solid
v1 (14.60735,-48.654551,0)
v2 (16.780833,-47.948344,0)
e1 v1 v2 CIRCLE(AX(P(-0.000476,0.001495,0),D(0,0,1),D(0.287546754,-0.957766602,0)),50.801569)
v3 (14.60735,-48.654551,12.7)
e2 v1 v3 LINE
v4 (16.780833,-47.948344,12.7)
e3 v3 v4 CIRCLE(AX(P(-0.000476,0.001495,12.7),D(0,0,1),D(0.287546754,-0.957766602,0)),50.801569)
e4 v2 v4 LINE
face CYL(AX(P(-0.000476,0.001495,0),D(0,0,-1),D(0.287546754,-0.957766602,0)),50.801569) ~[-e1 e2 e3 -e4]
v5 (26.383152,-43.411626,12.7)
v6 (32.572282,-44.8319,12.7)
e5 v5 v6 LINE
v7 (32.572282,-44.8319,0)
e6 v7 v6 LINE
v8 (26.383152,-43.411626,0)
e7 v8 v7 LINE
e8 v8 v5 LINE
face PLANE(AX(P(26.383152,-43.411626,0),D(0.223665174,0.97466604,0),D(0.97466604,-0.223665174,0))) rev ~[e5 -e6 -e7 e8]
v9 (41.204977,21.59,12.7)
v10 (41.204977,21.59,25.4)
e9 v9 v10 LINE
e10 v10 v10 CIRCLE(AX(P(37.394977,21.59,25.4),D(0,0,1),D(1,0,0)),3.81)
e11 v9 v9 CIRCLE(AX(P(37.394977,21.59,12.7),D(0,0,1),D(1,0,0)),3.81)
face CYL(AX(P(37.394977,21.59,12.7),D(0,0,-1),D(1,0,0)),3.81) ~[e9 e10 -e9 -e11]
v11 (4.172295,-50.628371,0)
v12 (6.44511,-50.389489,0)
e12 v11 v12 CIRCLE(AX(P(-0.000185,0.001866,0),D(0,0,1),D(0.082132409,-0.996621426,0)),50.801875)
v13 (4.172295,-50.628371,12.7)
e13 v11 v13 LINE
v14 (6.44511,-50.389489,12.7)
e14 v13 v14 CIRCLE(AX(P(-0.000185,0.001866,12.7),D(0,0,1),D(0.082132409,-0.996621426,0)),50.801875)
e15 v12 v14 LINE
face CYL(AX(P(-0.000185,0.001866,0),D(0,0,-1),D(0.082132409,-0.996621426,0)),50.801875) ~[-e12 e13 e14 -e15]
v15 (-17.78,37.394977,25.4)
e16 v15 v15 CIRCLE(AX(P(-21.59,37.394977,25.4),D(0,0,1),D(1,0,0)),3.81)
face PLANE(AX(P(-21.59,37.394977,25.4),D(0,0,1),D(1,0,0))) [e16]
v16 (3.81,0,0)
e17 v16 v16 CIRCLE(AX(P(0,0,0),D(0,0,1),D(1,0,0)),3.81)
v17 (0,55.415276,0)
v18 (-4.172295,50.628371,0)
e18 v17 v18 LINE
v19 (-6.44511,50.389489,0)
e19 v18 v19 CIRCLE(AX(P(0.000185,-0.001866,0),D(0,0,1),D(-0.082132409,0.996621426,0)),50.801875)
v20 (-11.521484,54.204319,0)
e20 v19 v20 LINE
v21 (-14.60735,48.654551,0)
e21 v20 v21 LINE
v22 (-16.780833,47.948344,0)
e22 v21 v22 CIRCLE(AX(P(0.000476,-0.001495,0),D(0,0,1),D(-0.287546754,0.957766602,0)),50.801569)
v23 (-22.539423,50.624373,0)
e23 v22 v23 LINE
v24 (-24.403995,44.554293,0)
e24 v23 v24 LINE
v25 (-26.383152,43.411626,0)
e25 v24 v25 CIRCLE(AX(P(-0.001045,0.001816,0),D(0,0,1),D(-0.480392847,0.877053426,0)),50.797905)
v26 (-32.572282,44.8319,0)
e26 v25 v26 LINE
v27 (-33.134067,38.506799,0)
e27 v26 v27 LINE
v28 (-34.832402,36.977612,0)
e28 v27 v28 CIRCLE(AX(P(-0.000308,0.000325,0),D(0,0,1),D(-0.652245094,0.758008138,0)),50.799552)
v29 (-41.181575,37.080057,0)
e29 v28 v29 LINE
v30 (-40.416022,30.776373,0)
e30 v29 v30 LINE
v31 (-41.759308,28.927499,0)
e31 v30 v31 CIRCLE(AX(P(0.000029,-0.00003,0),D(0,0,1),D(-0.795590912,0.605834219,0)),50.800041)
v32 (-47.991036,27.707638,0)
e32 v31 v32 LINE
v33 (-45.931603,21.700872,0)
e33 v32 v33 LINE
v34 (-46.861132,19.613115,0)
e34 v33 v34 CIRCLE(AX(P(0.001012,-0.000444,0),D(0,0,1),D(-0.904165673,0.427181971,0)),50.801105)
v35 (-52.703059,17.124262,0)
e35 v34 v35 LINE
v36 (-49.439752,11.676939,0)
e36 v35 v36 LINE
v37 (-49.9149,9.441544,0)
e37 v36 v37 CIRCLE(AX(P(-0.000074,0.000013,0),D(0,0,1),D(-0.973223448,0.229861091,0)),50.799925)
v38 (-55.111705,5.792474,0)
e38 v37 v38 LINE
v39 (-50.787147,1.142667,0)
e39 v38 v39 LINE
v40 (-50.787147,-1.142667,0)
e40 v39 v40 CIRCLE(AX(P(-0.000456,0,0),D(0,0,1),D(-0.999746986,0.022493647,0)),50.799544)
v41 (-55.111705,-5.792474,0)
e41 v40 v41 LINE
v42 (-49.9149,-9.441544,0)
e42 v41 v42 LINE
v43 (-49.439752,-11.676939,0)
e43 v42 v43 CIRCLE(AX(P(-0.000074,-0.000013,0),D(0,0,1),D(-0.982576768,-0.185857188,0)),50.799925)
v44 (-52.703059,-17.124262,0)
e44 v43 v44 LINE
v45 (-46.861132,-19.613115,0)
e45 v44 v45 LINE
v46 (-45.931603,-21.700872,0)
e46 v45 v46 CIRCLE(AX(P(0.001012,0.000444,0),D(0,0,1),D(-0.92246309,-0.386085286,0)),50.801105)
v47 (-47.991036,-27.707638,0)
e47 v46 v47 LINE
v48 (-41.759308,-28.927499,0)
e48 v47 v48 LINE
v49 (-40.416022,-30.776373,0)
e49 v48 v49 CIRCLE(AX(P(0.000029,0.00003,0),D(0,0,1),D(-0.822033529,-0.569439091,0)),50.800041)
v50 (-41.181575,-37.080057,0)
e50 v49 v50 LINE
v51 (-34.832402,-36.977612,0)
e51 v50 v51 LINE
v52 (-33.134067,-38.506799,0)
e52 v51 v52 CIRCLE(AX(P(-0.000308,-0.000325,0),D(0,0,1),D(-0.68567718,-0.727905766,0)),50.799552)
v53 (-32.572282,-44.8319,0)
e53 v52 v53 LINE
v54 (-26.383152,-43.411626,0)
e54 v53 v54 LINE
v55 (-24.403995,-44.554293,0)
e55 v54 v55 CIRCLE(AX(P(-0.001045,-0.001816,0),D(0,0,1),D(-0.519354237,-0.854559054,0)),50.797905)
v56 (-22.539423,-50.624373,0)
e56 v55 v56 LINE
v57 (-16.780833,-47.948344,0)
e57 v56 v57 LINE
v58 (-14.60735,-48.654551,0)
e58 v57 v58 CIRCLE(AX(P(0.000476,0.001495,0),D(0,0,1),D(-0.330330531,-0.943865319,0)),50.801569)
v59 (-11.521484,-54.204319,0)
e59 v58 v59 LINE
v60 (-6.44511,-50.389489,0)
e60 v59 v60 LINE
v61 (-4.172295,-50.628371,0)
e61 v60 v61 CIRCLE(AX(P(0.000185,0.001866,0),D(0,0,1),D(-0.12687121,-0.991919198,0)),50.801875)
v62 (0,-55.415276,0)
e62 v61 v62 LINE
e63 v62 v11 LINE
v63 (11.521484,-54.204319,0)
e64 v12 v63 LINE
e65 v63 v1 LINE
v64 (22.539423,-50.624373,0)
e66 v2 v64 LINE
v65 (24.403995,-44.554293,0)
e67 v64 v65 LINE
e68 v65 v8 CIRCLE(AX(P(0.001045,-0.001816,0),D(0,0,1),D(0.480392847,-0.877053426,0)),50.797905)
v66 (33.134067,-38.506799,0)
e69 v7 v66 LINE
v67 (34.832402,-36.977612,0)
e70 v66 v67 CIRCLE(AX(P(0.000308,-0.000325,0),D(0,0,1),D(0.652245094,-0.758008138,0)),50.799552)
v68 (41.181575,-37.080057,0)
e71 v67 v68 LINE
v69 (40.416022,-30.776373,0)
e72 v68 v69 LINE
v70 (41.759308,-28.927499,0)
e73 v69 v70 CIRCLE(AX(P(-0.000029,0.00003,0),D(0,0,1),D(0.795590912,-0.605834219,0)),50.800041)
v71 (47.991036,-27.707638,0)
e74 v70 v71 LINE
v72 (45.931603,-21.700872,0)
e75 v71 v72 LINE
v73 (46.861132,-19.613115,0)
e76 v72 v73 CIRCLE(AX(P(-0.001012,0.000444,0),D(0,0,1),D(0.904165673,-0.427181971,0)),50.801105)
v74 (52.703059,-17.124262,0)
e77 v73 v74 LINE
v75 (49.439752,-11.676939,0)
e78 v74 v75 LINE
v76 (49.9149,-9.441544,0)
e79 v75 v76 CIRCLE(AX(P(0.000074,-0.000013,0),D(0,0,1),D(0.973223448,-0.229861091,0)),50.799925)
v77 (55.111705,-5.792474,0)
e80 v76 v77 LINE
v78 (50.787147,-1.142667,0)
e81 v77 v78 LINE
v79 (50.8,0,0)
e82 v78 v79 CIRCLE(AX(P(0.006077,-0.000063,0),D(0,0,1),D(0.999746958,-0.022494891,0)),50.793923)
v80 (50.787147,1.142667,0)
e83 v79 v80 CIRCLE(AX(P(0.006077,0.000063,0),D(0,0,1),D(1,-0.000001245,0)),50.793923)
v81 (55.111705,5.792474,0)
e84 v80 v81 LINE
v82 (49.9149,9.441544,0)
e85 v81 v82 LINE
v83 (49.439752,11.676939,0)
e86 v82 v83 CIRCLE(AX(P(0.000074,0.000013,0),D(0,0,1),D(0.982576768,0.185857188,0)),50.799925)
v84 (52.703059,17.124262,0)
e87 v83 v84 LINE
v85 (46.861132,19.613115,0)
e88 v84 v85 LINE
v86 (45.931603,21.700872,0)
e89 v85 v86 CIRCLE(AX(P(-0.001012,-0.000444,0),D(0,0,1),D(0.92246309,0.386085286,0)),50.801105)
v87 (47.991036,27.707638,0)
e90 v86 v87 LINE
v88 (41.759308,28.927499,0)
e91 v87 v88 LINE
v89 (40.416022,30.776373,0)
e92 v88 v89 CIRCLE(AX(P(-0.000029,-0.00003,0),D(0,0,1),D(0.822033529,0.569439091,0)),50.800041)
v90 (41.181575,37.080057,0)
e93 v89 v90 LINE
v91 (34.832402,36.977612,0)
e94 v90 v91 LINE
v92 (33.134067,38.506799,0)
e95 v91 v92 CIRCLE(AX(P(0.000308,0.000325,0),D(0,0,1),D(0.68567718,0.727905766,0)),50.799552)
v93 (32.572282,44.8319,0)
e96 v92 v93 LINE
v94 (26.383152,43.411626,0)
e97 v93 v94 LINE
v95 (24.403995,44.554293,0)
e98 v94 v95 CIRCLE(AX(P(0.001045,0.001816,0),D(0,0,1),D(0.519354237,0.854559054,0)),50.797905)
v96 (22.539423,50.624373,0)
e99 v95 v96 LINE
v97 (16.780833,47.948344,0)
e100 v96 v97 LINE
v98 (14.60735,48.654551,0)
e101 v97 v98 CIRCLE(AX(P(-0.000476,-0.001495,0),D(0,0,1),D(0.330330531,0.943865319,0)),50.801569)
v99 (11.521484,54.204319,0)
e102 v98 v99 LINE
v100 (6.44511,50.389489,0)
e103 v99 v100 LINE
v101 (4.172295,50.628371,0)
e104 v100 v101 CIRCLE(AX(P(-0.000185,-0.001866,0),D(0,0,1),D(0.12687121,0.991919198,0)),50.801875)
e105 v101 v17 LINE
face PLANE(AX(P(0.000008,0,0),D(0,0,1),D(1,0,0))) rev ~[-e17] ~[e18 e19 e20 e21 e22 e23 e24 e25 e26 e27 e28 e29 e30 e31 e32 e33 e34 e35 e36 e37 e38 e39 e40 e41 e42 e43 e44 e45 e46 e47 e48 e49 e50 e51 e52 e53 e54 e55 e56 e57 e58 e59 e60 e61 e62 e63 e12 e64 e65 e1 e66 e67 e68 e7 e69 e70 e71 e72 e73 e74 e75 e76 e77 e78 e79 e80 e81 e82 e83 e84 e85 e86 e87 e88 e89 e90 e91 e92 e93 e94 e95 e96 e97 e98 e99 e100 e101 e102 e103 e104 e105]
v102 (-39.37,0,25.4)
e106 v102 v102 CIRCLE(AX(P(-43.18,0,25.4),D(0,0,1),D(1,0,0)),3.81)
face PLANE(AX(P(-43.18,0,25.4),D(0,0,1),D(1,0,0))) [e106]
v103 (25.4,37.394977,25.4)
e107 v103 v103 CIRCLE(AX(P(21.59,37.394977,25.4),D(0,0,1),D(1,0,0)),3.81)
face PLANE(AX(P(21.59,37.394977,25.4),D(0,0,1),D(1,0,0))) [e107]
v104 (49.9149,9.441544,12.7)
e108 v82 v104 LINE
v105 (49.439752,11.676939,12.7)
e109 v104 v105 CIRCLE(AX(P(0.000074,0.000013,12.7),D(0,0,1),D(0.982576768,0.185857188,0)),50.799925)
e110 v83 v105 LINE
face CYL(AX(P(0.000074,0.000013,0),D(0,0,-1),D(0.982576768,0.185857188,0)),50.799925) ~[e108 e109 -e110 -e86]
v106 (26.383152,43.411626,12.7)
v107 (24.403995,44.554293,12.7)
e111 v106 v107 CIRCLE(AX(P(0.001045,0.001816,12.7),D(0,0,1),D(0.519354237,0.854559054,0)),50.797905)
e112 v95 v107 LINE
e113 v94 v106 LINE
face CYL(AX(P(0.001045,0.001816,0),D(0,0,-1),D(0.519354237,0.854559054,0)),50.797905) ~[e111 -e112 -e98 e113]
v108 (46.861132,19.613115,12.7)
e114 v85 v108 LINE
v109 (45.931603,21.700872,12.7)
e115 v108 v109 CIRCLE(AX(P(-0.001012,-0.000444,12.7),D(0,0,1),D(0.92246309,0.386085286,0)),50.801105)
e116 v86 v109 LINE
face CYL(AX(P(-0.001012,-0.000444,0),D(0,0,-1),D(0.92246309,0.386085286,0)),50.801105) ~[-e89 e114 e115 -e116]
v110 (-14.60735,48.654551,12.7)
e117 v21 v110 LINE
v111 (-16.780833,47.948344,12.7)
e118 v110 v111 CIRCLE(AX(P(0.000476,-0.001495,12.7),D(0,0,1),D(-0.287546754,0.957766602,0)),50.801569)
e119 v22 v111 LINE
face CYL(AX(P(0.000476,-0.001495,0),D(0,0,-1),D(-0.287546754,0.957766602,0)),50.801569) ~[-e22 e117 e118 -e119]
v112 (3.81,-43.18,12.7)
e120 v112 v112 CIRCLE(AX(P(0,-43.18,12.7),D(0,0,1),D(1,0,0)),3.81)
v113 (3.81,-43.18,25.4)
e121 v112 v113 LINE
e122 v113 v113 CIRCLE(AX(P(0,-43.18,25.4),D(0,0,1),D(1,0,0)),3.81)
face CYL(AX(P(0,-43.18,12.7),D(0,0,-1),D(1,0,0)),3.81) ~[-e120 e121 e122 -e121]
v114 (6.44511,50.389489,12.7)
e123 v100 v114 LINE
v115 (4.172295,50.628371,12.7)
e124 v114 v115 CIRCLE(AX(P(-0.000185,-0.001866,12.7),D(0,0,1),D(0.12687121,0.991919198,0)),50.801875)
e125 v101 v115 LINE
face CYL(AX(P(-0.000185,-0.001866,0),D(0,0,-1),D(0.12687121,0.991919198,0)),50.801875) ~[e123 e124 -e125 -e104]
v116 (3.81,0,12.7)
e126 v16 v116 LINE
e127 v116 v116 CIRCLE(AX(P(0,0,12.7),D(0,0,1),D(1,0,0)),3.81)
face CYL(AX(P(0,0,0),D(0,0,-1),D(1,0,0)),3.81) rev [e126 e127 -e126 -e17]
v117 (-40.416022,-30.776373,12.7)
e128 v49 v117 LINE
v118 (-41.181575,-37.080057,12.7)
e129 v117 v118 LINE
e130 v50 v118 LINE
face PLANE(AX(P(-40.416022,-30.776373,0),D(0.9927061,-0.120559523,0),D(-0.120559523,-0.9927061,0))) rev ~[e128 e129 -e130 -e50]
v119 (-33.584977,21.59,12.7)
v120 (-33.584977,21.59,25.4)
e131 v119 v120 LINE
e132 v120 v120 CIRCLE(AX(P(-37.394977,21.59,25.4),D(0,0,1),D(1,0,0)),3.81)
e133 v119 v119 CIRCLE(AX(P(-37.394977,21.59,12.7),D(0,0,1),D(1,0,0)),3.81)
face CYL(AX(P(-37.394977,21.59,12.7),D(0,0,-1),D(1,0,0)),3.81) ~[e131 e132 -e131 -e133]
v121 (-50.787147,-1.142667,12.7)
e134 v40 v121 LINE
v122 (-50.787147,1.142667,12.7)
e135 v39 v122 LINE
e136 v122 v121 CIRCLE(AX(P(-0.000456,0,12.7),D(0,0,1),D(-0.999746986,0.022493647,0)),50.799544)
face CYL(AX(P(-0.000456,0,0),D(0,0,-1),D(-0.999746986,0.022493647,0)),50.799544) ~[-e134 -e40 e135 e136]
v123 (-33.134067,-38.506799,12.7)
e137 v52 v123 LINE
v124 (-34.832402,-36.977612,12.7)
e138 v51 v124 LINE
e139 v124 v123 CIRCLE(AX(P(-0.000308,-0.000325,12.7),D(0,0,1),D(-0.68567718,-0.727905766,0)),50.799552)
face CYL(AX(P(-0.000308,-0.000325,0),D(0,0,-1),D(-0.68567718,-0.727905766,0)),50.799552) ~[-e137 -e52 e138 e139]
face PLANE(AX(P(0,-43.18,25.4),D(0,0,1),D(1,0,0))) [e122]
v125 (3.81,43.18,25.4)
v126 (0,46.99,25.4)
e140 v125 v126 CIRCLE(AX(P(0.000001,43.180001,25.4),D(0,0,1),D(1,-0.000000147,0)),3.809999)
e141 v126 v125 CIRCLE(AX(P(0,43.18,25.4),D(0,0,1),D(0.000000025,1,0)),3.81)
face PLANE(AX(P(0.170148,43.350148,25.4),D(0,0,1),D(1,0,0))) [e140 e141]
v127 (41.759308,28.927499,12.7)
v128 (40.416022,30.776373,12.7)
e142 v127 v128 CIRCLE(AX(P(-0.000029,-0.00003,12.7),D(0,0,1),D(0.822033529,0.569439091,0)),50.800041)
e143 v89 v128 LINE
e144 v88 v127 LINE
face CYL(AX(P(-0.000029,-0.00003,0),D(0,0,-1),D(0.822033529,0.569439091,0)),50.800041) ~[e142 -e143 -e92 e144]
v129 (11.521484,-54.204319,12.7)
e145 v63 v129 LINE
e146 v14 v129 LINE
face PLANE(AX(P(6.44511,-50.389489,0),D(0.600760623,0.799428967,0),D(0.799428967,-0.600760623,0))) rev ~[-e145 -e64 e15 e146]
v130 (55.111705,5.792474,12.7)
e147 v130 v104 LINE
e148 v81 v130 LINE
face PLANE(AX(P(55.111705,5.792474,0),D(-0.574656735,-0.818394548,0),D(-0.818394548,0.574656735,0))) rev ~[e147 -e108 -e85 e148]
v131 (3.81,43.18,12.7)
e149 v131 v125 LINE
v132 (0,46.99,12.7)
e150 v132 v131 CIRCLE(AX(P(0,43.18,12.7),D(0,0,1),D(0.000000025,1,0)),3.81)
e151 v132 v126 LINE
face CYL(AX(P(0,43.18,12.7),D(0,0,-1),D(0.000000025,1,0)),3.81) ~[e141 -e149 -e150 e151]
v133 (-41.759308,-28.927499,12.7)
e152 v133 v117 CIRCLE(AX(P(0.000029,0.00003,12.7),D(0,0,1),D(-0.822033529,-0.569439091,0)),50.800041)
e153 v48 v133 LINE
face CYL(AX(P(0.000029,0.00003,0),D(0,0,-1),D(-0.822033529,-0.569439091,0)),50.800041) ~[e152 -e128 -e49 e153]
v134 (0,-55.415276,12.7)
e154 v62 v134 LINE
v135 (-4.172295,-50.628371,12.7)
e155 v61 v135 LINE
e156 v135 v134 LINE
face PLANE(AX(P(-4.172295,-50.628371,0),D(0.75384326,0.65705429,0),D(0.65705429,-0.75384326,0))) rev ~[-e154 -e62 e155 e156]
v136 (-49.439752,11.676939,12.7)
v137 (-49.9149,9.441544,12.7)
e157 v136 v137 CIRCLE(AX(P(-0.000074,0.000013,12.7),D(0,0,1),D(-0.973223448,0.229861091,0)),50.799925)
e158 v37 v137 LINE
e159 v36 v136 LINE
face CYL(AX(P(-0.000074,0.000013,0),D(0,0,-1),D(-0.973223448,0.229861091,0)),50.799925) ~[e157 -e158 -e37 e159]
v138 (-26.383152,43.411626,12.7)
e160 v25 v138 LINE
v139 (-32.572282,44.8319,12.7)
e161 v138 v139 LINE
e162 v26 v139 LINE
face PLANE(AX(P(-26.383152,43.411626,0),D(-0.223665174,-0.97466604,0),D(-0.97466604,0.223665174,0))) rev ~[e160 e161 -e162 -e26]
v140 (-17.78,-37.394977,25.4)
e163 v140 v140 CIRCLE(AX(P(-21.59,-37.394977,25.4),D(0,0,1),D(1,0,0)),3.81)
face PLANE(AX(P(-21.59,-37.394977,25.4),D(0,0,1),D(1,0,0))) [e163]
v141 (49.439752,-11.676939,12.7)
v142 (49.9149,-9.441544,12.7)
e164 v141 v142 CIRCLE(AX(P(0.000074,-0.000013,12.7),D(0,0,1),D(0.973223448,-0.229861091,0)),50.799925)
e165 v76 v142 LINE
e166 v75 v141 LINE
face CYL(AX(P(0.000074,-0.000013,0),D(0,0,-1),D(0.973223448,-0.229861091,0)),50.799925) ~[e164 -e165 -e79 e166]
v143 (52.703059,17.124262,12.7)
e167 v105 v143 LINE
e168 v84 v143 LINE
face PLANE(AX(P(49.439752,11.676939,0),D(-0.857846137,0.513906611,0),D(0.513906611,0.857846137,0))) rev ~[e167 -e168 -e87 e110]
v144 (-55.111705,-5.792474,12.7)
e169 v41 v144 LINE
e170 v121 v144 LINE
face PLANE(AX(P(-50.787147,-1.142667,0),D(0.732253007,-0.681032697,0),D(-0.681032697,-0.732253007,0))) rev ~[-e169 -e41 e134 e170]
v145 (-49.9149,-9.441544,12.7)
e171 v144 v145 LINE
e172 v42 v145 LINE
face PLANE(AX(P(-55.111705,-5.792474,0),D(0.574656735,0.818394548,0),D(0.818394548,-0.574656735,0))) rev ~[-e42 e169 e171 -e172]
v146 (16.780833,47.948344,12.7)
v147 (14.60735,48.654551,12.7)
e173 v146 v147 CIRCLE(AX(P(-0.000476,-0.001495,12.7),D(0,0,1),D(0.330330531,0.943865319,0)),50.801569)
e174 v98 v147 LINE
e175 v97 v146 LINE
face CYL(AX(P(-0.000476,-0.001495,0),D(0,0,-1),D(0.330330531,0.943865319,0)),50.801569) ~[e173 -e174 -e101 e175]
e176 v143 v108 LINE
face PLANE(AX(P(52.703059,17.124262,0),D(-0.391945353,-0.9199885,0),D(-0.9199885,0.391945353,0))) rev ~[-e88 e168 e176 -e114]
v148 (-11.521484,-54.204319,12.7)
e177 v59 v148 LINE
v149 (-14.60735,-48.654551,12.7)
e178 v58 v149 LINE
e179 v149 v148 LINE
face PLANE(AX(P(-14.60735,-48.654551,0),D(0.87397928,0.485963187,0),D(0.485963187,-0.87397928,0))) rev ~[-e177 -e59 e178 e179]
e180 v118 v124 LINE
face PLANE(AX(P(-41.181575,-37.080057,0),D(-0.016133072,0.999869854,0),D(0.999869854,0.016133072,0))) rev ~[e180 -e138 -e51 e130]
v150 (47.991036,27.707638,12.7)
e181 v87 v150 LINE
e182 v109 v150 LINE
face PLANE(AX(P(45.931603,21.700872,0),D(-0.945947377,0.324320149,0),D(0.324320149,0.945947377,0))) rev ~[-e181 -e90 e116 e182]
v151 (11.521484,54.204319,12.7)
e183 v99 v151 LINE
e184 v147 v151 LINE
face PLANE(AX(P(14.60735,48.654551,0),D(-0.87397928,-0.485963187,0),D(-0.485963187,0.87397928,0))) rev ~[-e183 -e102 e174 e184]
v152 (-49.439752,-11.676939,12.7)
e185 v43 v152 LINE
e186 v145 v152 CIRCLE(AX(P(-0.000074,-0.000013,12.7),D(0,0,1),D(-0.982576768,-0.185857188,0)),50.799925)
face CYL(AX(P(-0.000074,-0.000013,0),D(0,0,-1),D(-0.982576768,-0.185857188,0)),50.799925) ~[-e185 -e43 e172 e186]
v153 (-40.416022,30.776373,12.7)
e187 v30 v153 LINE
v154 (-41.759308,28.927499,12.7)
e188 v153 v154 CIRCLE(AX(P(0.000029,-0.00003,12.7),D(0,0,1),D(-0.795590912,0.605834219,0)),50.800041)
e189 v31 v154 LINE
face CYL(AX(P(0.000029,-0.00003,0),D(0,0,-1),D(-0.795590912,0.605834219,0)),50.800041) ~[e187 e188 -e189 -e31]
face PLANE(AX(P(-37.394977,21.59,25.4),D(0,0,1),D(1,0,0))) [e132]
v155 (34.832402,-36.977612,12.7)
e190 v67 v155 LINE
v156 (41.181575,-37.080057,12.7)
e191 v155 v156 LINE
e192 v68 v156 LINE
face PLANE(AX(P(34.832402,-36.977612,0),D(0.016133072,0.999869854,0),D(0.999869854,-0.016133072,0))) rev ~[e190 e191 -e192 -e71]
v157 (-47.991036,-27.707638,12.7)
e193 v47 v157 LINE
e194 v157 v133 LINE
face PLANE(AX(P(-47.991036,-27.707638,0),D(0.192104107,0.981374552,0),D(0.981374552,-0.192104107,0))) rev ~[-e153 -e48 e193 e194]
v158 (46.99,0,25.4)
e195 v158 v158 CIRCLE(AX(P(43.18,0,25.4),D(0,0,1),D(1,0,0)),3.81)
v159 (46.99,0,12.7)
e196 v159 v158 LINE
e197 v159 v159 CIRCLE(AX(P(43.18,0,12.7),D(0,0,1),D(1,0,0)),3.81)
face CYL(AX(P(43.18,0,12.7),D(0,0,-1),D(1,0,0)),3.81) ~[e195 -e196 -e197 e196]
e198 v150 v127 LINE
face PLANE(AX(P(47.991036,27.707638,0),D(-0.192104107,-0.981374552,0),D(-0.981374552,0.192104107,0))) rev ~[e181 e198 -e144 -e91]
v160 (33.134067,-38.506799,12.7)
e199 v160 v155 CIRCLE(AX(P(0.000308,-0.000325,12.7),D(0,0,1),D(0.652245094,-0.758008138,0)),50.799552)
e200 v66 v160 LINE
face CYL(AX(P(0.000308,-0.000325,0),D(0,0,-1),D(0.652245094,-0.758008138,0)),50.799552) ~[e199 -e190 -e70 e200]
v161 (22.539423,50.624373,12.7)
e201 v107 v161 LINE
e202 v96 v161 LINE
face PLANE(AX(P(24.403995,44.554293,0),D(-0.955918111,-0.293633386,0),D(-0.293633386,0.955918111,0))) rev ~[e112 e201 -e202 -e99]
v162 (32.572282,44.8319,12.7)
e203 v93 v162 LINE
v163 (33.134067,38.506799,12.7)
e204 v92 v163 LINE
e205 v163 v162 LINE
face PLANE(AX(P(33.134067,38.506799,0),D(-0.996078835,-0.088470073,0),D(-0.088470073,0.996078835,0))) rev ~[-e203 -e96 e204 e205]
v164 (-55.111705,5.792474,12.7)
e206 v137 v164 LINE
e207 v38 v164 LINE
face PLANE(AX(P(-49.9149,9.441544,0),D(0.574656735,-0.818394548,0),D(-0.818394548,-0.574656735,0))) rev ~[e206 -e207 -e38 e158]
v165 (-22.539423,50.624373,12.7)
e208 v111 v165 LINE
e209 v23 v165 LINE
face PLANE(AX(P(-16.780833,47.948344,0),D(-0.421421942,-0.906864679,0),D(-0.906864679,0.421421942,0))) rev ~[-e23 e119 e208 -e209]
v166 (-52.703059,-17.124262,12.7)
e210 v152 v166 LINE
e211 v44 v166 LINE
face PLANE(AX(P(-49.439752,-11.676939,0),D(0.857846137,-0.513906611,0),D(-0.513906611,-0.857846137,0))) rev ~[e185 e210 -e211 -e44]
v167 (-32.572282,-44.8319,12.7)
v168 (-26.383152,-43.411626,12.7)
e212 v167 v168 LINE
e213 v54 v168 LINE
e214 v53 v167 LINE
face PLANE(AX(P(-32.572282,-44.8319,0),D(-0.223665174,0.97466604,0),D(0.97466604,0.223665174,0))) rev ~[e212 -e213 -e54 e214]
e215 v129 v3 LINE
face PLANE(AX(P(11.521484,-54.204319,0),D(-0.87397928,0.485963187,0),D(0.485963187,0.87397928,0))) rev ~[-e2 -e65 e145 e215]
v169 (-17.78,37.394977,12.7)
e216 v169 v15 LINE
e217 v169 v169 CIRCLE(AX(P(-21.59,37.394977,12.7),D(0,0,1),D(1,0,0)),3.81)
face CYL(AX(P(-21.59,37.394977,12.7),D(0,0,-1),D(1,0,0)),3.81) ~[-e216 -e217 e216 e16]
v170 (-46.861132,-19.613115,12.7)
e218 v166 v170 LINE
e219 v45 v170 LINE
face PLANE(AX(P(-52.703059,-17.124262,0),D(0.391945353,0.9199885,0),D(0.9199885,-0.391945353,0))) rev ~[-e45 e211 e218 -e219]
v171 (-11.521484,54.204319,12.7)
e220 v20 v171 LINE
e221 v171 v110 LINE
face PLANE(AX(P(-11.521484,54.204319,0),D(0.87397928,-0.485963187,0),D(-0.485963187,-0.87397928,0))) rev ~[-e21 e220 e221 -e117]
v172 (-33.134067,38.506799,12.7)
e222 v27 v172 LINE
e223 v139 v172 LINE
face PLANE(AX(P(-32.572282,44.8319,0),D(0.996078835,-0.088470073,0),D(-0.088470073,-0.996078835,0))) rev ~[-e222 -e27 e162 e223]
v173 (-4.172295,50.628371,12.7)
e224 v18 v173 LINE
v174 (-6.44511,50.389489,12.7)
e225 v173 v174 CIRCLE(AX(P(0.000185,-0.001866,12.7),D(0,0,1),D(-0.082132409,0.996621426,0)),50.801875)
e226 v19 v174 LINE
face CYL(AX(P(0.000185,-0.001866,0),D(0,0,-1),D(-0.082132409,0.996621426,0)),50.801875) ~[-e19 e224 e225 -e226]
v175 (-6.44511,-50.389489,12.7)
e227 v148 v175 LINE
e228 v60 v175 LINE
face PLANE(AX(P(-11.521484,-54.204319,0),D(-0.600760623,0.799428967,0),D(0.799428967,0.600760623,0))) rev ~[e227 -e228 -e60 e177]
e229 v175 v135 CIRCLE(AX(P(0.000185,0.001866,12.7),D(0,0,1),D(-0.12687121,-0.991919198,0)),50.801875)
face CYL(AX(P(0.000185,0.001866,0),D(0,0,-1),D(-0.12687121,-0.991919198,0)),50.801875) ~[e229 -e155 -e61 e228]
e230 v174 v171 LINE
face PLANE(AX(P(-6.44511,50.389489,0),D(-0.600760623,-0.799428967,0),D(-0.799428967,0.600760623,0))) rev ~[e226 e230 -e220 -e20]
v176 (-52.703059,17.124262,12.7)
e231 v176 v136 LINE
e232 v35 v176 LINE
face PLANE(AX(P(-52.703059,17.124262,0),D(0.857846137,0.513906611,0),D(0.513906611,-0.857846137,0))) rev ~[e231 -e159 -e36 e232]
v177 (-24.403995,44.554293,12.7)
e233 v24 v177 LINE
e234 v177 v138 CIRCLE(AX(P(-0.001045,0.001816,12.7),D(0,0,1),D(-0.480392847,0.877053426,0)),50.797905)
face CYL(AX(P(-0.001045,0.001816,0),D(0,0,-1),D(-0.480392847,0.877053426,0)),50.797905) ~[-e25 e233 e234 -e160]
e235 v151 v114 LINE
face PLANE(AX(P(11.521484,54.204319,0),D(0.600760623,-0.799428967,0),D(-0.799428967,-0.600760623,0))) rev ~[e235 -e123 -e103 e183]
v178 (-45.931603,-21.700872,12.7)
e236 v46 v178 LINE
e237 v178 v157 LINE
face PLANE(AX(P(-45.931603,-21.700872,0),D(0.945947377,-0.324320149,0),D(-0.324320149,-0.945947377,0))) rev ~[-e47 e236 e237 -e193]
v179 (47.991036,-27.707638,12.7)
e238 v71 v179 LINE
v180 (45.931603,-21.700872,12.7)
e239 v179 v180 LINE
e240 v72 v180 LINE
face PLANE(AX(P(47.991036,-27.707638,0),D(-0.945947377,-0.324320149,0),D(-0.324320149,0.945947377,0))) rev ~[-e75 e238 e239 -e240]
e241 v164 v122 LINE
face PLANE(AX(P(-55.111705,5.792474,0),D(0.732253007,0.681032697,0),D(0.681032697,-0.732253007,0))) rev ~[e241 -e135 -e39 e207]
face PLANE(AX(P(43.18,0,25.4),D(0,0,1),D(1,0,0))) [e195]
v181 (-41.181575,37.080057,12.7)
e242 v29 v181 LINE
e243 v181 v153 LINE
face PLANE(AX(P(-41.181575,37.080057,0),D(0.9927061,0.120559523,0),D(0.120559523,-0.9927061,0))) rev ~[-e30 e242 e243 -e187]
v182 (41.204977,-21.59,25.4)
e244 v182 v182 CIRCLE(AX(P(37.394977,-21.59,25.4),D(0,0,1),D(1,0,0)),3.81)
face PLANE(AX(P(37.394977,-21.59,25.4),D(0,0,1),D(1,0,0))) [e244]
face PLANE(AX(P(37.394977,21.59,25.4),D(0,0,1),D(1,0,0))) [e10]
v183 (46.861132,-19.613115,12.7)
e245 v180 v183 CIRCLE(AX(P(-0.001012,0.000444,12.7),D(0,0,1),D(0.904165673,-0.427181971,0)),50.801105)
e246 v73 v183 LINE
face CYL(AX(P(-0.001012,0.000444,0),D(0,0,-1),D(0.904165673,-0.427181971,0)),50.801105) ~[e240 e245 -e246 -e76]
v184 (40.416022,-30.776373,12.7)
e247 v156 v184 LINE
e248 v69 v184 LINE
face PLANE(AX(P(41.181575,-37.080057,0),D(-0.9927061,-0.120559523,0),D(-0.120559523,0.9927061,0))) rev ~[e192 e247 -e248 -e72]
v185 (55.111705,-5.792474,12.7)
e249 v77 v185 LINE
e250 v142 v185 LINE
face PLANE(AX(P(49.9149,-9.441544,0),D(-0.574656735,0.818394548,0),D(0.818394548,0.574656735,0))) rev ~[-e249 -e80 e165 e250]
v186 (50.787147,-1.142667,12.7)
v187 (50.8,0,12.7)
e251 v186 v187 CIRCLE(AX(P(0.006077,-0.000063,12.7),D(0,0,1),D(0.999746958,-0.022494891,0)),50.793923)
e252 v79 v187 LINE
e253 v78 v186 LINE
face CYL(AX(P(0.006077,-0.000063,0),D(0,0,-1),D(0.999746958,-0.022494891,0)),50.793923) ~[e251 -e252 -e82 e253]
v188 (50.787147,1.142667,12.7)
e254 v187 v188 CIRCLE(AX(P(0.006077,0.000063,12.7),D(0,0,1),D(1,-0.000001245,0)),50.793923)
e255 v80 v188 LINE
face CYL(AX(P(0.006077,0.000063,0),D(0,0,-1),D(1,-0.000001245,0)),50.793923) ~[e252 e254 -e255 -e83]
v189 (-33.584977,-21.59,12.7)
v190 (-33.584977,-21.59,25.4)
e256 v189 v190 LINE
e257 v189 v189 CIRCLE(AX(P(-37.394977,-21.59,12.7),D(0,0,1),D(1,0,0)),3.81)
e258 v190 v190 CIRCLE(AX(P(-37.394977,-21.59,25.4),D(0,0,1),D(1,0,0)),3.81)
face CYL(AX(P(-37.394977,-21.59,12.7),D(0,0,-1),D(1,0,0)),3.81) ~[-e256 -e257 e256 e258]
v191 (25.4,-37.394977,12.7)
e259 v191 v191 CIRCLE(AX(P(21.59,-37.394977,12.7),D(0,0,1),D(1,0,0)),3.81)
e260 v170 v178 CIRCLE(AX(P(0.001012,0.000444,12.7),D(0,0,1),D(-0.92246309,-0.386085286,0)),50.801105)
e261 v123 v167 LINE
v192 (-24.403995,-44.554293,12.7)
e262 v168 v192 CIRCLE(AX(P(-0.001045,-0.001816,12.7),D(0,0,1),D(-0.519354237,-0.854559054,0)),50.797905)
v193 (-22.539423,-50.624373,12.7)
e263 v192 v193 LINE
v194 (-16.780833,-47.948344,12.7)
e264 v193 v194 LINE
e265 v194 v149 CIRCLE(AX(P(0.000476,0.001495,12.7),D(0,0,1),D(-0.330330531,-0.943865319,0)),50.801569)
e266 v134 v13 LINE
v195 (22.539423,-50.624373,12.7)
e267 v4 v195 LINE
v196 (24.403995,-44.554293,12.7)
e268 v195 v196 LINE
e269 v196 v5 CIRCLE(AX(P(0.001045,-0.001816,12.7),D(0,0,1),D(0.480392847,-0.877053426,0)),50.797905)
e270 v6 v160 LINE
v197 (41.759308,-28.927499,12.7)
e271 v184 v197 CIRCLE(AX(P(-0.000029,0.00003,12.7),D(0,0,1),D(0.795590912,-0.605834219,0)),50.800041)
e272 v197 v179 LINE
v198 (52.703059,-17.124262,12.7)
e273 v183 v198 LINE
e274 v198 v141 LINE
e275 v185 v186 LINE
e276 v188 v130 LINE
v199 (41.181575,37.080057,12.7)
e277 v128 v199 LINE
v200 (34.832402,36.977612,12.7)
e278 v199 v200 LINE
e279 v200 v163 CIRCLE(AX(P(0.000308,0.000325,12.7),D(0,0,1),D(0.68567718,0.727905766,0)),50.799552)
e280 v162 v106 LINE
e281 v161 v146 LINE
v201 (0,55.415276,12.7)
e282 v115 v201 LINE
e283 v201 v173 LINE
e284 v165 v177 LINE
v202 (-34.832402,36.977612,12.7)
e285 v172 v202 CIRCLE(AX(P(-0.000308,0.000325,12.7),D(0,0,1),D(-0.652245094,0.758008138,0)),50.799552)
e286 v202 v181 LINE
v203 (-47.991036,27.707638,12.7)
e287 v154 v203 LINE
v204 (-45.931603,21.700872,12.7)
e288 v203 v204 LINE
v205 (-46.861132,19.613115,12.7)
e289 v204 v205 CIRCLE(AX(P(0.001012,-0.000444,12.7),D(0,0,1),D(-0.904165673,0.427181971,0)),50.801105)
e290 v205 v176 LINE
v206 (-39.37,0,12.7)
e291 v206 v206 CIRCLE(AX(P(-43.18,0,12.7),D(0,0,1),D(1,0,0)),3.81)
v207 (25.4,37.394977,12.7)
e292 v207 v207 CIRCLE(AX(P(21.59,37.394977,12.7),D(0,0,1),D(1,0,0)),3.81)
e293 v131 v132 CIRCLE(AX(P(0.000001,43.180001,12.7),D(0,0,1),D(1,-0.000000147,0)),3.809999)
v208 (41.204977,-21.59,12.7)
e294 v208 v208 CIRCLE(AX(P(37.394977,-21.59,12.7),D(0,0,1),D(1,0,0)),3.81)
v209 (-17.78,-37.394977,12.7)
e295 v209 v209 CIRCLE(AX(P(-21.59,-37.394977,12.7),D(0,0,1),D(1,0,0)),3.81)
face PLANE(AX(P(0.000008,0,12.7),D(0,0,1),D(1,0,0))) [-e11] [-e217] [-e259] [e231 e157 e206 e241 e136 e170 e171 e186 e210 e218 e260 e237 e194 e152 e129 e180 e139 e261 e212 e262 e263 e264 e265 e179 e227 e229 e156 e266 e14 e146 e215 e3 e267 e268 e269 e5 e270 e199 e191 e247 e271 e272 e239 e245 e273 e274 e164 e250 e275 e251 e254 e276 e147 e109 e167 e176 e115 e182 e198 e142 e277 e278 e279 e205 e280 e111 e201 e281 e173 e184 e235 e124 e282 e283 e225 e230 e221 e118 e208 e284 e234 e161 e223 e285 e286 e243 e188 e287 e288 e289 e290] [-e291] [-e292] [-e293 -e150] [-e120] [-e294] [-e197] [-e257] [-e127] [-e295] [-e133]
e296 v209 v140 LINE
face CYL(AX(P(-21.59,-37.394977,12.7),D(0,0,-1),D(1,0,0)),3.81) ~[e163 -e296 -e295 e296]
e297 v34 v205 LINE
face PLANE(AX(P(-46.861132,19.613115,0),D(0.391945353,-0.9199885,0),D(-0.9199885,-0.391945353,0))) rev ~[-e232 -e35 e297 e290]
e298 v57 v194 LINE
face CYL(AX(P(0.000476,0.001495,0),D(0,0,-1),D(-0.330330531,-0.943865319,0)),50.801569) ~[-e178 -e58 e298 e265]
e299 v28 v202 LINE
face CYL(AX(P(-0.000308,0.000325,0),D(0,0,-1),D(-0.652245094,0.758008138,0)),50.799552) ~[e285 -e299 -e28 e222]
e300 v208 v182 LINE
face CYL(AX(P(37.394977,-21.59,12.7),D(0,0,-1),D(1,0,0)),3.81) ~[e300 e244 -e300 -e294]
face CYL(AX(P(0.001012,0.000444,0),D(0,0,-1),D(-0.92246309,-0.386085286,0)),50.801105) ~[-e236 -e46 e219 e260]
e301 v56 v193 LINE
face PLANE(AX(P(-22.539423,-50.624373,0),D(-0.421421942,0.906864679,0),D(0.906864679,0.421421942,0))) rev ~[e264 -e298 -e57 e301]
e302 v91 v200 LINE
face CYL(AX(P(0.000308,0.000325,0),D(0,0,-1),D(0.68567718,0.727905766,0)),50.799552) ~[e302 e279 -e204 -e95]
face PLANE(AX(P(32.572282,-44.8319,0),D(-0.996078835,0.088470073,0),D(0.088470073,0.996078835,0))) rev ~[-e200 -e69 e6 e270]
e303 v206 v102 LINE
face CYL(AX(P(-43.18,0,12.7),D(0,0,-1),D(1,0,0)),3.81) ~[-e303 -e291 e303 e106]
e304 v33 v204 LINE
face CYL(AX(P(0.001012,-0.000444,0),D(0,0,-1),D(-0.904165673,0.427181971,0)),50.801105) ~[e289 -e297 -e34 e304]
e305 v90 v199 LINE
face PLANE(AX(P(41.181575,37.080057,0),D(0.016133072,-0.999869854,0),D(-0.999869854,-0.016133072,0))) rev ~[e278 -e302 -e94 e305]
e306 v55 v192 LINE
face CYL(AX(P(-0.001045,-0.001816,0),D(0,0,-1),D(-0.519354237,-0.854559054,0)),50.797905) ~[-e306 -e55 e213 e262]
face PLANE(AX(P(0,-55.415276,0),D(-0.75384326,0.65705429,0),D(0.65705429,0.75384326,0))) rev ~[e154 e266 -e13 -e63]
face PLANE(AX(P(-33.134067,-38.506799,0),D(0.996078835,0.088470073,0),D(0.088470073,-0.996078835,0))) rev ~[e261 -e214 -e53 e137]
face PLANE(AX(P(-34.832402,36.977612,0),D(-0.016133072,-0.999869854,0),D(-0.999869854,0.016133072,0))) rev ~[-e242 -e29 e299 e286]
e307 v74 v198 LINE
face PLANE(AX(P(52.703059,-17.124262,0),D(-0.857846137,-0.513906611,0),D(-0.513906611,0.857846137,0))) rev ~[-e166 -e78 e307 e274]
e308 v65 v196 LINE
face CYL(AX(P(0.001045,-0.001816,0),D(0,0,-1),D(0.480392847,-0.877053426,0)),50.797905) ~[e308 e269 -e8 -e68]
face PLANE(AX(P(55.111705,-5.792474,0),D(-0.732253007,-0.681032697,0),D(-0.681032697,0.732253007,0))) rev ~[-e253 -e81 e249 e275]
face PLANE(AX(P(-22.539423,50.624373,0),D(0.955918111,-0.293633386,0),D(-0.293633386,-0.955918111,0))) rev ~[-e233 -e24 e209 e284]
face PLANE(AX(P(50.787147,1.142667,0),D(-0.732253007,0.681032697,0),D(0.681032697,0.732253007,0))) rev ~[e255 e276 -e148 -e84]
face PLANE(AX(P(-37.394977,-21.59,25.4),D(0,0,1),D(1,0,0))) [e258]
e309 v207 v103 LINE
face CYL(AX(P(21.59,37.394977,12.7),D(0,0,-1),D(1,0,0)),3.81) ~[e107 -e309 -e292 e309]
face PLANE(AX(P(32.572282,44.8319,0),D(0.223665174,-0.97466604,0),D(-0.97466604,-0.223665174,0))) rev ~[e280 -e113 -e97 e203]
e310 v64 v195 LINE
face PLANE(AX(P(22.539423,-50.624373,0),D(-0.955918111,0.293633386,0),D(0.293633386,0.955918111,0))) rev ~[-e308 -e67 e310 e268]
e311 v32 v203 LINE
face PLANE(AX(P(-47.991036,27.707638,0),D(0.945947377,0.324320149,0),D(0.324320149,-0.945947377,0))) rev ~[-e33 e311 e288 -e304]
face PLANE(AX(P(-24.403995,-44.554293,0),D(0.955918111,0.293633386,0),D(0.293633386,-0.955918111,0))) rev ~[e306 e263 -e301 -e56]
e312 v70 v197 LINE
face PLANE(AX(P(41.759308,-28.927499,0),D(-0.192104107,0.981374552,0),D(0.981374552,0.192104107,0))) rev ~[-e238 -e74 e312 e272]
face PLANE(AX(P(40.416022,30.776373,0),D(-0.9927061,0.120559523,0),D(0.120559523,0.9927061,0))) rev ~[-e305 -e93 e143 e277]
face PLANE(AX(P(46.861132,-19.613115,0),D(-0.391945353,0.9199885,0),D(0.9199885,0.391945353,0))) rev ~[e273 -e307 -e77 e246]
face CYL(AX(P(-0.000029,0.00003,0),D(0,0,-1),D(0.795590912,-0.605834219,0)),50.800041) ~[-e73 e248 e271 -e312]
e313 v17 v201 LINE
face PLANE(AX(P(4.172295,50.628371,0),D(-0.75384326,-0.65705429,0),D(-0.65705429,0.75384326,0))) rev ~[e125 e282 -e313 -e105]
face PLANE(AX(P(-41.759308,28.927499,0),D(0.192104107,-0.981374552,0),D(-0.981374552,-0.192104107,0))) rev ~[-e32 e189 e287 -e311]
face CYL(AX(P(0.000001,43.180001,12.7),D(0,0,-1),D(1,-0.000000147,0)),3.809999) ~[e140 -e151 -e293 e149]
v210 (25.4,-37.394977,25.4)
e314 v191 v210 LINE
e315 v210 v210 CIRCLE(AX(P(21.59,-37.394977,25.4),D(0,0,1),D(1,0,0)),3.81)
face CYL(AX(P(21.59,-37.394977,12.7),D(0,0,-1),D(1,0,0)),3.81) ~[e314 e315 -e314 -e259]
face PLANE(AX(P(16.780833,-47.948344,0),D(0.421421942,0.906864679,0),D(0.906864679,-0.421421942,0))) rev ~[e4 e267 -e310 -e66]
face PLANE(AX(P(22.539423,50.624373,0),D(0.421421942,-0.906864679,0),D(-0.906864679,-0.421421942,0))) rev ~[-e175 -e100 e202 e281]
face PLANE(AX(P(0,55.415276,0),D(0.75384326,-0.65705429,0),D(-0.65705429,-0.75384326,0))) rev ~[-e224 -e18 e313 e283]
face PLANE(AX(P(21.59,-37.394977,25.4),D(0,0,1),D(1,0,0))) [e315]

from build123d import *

# Parameters (mm, degrees)
F0_R     = 3.81
F1_DEPTH = 12.7
F2_R     = 3.81
F3_DEPTH = 12.7


with BuildPart() as f1:
    # F0 (on Top) → F1 (new body)
    with BuildSketch(Plane.XY):
        with BuildLine():
            ThreePointArc((50.787147, -1.142667), (50.796787, -0.57137), (50.8, 0))
            ThreePointArc((50.8, 0), (50.796787, 0.57137), (50.787147, 1.142667))
            ThreePointArc((50.787147, 1.142667), (50.521712, 5.310046), (49.9149, 9.441544))
            ThreePointArc((49.9149, 9.441544), (49.689898, 10.561914), (49.439752, 11.676939))
            ThreePointArc((49.439752, 11.676939), (48.313671, 15.698063), (46.861132, 19.613115))
            ThreePointArc((46.861132, 19.613115), (46.408109, 20.662221), (45.931603, 21.700872))
            ThreePointArc((45.931603, 21.700872), (43.994091, 25.4), (41.759308, 28.927499))
            ThreePointArc((41.759308, 28.927499), (41.098063, 29.859491), (40.416022, 30.776373))
            ThreePointArc((40.416022, 30.776373), (37.751757, 33.991835), (34.832402, 36.977612))
            ThreePointArc((34.832402, 36.977612), (33.991835, 37.751757), (33.134067, 38.506799))
            ThreePointArc((33.134067, 38.506799), (29.859491, 41.098063), (26.383152, 43.411626))
            ThreePointArc((26.383152, 43.411626), (25.4, 43.994091), (24.403995, 44.554293))
            ThreePointArc((24.403995, 44.554293), (20.662221, 46.408109), (16.780833, 47.948344))
            ThreePointArc((16.780833, 47.948344), (15.698063, 48.313671), (14.60735, 48.654551))
            ThreePointArc((14.60735, 48.654551), (10.561914, 49.689898), (6.44511, 50.389489))
            ThreePointArc((6.44511, 50.389489), (5.310046, 50.521712), (4.172295, 50.628371))
            ThreePointArc((4.172295, 50.628371), (0, 50.8), (-4.172295, 50.628371))
            ThreePointArc((-4.172295, 50.628371), (-5.310046, 50.521712), (-6.44511, 50.389489))
            ThreePointArc((-6.44511, 50.389489), (-10.561914, 49.689898), (-14.60735, 48.654551))
            ThreePointArc((-14.60735, 48.654551), (-15.698063, 48.313671), (-16.780833, 47.948344))
            ThreePointArc((-16.780833, 47.948344), (-20.662221, 46.408109), (-24.403995, 44.554293))
            ThreePointArc((-24.403995, 44.554293), (-25.4, 43.994091), (-26.383152, 43.411626))
            ThreePointArc((-26.383152, 43.411626), (-29.859491, 41.098063), (-33.134067, 38.506799))
            ThreePointArc((-33.134067, 38.506799), (-33.991835, 37.751757), (-34.832402, 36.977612))
            ThreePointArc((-34.832402, 36.977612), (-37.751757, 33.991835), (-40.416022, 30.776373))
            ThreePointArc((-40.416022, 30.776373), (-41.098063, 29.859491), (-41.759308, 28.927499))
            ThreePointArc((-41.759308, 28.927499), (-43.994091, 25.4), (-45.931603, 21.700872))
            ThreePointArc((-45.931603, 21.700872), (-46.408109, 20.662221), (-46.861132, 19.613115))
            ThreePointArc((-46.861132, 19.613115), (-48.313671, 15.698063), (-49.439752, 11.676939))
            ThreePointArc((-49.439752, 11.676939), (-49.689898, 10.561914), (-49.9149, 9.441544))
            ThreePointArc((-49.9149, 9.441544), (-50.521712, 5.310046), (-50.787147, 1.142667))
            ThreePointArc((-50.787147, 1.142667), (-50.8, 0), (-50.787147, -1.142667))
            ThreePointArc((-50.787147, -1.142667), (-50.521712, -5.310046), (-49.9149, -9.441544))
            ThreePointArc((-49.9149, -9.441544), (-49.689898, -10.561914), (-49.439752, -11.676939))
            ThreePointArc((-49.439752, -11.676939), (-48.313671, -15.698063), (-46.861132, -19.613115))
            ThreePointArc((-46.861132, -19.613115), (-46.408109, -20.662221), (-45.931603, -21.700872))
            ThreePointArc((-45.931603, -21.700872), (-43.994091, -25.4), (-41.759308, -28.927499))
            ThreePointArc((-41.759308, -28.927499), (-41.098063, -29.859491), (-40.416022, -30.776373))
            ThreePointArc((-40.416022, -30.776373), (-37.751757, -33.991835), (-34.832402, -36.977612))
            ThreePointArc((-34.832402, -36.977612), (-33.991835, -37.751757), (-33.134067, -38.506799))
            ThreePointArc((-33.134067, -38.506799), (-29.859491, -41.098063), (-26.383152, -43.411626))
            ThreePointArc((-26.383152, -43.411626), (-25.4, -43.994091), (-24.403995, -44.554293))
            ThreePointArc((-24.403995, -44.554293), (-20.662221, -46.408109), (-16.780833, -47.948344))
            ThreePointArc((-16.780833, -47.948344), (-15.698063, -48.313671), (-14.60735, -48.654551))
            ThreePointArc((-14.60735, -48.654551), (-10.561914, -49.689898), (-6.44511, -50.389489))
            ThreePointArc((-6.44511, -50.389489), (-5.310046, -50.521712), (-4.172295, -50.628371))
            ThreePointArc((-4.172295, -50.628371), (0, -50.8), (4.172295, -50.628371))
            ThreePointArc((4.172295, -50.628371), (5.310046, -50.521712), (6.44511, -50.389489))
            ThreePointArc((6.44511, -50.389489), (10.561914, -49.689898), (14.60735, -48.654551))
            ThreePointArc((14.60735, -48.654551), (15.698063, -48.313671), (16.780833, -47.948344))
            ThreePointArc((16.780833, -47.948344), (20.662221, -46.408109), (24.403995, -44.554293))
            ThreePointArc((24.403995, -44.554293), (25.4, -43.994091), (26.383152, -43.411626))
            ThreePointArc((26.383152, -43.411626), (29.859491, -41.098063), (33.134067, -38.506799))
            ThreePointArc((33.134067, -38.506799), (33.991835, -37.751757), (34.832402, -36.977612))
            ThreePointArc((34.832402, -36.977612), (37.751757, -33.991835), (40.416022, -30.776373))
            ThreePointArc((40.416022, -30.776373), (41.098063, -29.859491), (41.759308, -28.927499))
            ThreePointArc((41.759308, -28.927499), (43.994091, -25.4), (45.931603, -21.700872))
            ThreePointArc((45.931603, -21.700872), (46.408109, -20.662221), (46.861132, -19.613115))
            ThreePointArc((46.861132, -19.613115), (48.313671, -15.698063), (49.439752, -11.676939))
            ThreePointArc((49.439752, -11.676939), (49.689898, -10.561914), (49.9149, -9.441544))
            ThreePointArc((49.9149, -9.441544), (50.521712, -5.310046), (50.787147, -1.142667))
        make_face()
        Circle(F0_R, mode=Mode.SUBTRACT)
        with BuildLine():
            ThreePointArc((49.9149, 9.441544), (50.521712, 5.310046), (50.787147, 1.142667))
            Line((50.787147, 1.142667), (55.111705, 5.792474))
            Line((55.111705, 5.792474), (49.9149, 9.441544))
        make_face()
        with BuildLine():
            Line((55.111705, -5.792474), (50.787147, -1.142667))
            ThreePointArc((50.787147, -1.142667), (50.521712, -5.310046), (49.9149, -9.441544))
            Line((49.9149, -9.441544), (55.111705, -5.792474))
        make_face()
        with BuildLine():
            ThreePointArc((46.861132, 19.613115), (48.313671, 15.698063), (49.439752, 11.676939))
            Line((49.439752, 11.676939), (52.703059, 17.124262))
            Line((52.703059, 17.124262), (46.861132, 19.613115))
        make_face()
        with BuildLine():
            Line((52.703059, -17.124262), (49.439752, -11.676939))
            ThreePointArc((49.439752, -11.676939), (48.313671, -15.698063), (46.861132, -19.613115))
            Line((46.861132, -19.613115), (52.703059, -17.124262))
        make_face()
        with BuildLine():
            ThreePointArc((41.759308, 28.927499), (43.994091, 25.4), (45.931603, 21.700872))
            Line((45.931603, 21.700872), (47.991036, 27.707638))
            Line((47.991036, 27.707638), (41.759308, 28.927499))
        make_face()
        with BuildLine():
            Line((47.991036, -27.707638), (45.931603, -21.700872))
            ThreePointArc((45.931603, -21.700872), (43.994091, -25.4), (41.759308, -28.927499))
            Line((41.759308, -28.927499), (47.991036, -27.707638))
        make_face()
        with BuildLine():
            ThreePointArc((34.832402, 36.977612), (37.751757, 33.991835), (40.416022, 30.776373))
            Line((40.416022, 30.776373), (41.181575, 37.080057))
            Line((41.181575, 37.080057), (34.832402, 36.977612))
        make_face()
        with BuildLine():
            Line((41.181575, -37.080057), (40.416022, -30.776373))
            ThreePointArc((40.416022, -30.776373), (37.751757, -33.991835), (34.832402, -36.977612))
            Line((34.832402, -36.977612), (41.181575, -37.080057))
        make_face()
        with BuildLine():
            ThreePointArc((26.383152, 43.411626), (29.859491, 41.098063), (33.134067, 38.506799))
            Line((33.134067, 38.506799), (32.572282, 44.8319))
            Line((32.572282, 44.8319), (26.383152, 43.411626))
        make_face()
        with BuildLine():
            Line((32.572282, -44.8319), (33.134067, -38.506799))
            ThreePointArc((33.134067, -38.506799), (29.859491, -41.098063), (26.383152, -43.411626))
            Line((26.383152, -43.411626), (32.572282, -44.8319))
        make_face()
        with BuildLine():
            ThreePointArc((16.780833, 47.948344), (20.662221, 46.408109), (24.403995, 44.554293))
            Line((24.403995, 44.554293), (22.539423, 50.624373))
            Line((22.539423, 50.624373), (16.780833, 47.948344))
        make_face()
        with BuildLine():
            Line((22.539423, -50.624373), (24.403995, -44.554293))
            ThreePointArc((24.403995, -44.554293), (20.662221, -46.408109), (16.780833, -47.948344))
            Line((16.780833, -47.948344), (22.539423, -50.624373))
        make_face()
        with BuildLine():
            ThreePointArc((6.44511, 50.389489), (10.561914, 49.689898), (14.60735, 48.654551))
            Line((14.60735, 48.654551), (11.521484, 54.204319))
            Line((11.521484, 54.204319), (6.44511, 50.389489))
        make_face()
        with BuildLine():
            Line((11.521484, -54.204319), (14.60735, -48.654551))
            ThreePointArc((14.60735, -48.654551), (10.561914, -49.689898), (6.44511, -50.389489))
            Line((6.44511, -50.389489), (11.521484, -54.204319))
        make_face()
        with BuildLine():
            ThreePointArc((-4.172295, 50.628371), (0, 50.8), (4.172295, 50.628371))
            Line((4.172295, 50.628371), (0, 55.415276))
            Line((0, 55.415276), (-4.172295, 50.628371))
        make_face()
        with BuildLine():
            Line((0, -55.415276), (4.172295, -50.628371))
            ThreePointArc((4.172295, -50.628371), (0, -50.8), (-4.172295, -50.628371))
            Line((-4.172295, -50.628371), (0, -55.415276))
        make_face()
        with BuildLine():
            ThreePointArc((-14.60735, 48.654551), (-10.561914, 49.689898), (-6.44511, 50.389489))
            Line((-6.44511, 50.389489), (-11.521484, 54.204319))
            Line((-11.521484, 54.204319), (-14.60735, 48.654551))
        make_face()
        with BuildLine():
            Line((-11.521484, -54.204319), (-6.44511, -50.389489))
            ThreePointArc((-6.44511, -50.389489), (-10.561914, -49.689898), (-14.60735, -48.654551))
            Line((-14.60735, -48.654551), (-11.521484, -54.204319))
        make_face()
        with BuildLine():
            ThreePointArc((-24.403995, 44.554293), (-20.662221, 46.408109), (-16.780833, 47.948344))
            Line((-16.780833, 47.948344), (-22.539423, 50.624373))
            Line((-22.539423, 50.624373), (-24.403995, 44.554293))
        make_face()
        with BuildLine():
            Line((-22.539423, -50.624373), (-16.780833, -47.948344))
            ThreePointArc((-16.780833, -47.948344), (-20.662221, -46.408109), (-24.403995, -44.554293))
            Line((-24.403995, -44.554293), (-22.539423, -50.624373))
        make_face()
        with BuildLine():
            ThreePointArc((-33.134067, 38.506799), (-29.859491, 41.098063), (-26.383152, 43.411626))
            Line((-26.383152, 43.411626), (-32.572282, 44.8319))
            Line((-32.572282, 44.8319), (-33.134067, 38.506799))
        make_face()
        with BuildLine():
            Line((-32.572282, -44.8319), (-26.383152, -43.411626))
            ThreePointArc((-26.383152, -43.411626), (-29.859491, -41.098063), (-33.134067, -38.506799))
            Line((-33.134067, -38.506799), (-32.572282, -44.8319))
        make_face()
        with BuildLine():
            ThreePointArc((-40.416022, 30.776373), (-37.751757, 33.991835), (-34.832402, 36.977612))
            Line((-34.832402, 36.977612), (-41.181575, 37.080057))
            Line((-41.181575, 37.080057), (-40.416022, 30.776373))
        make_face()
        with BuildLine():
            Line((-41.181575, -37.080057), (-34.832402, -36.977612))
            ThreePointArc((-34.832402, -36.977612), (-37.751757, -33.991835), (-40.416022, -30.776373))
            Line((-40.416022, -30.776373), (-41.181575, -37.080057))
        make_face()
        with BuildLine():
            ThreePointArc((-45.931603, 21.700872), (-43.994091, 25.4), (-41.759308, 28.927499))
            Line((-41.759308, 28.927499), (-47.991036, 27.707638))
            Line((-47.991036, 27.707638), (-45.931603, 21.700872))
        make_face()
        with BuildLine():
            Line((-47.991036, -27.707638), (-41.759308, -28.927499))
            ThreePointArc((-41.759308, -28.927499), (-43.994091, -25.4), (-45.931603, -21.700872))
            Line((-45.931603, -21.700872), (-47.991036, -27.707638))
        make_face()
        with BuildLine():
            ThreePointArc((-49.439752, 11.676939), (-48.313671, 15.698063), (-46.861132, 19.613115))
            Line((-46.861132, 19.613115), (-52.703059, 17.124262))
            Line((-52.703059, 17.124262), (-49.439752, 11.676939))
        make_face()
        with BuildLine():
            Line((-52.703059, -17.124262), (-46.861132, -19.613115))
            ThreePointArc((-46.861132, -19.613115), (-48.313671, -15.698063), (-49.439752, -11.676939))
            Line((-49.439752, -11.676939), (-52.703059, -17.124262))
        make_face()
        with BuildLine():
            ThreePointArc((-50.787147, 1.142667), (-50.521712, 5.310046), (-49.9149, 9.441544))
            Line((-49.9149, 9.441544), (-55.111705, 5.792474))
            Line((-55.111705, 5.792474), (-50.787147, 1.142667))
        make_face()
        with BuildLine():
            Line((-55.111705, -5.792474), (-49.9149, -9.441544))
            ThreePointArc((-49.9149, -9.441544), (-50.521712, -5.310046), (-50.787147, -1.142667))
            Line((-50.787147, -1.142667), (-55.111705, -5.792474))
        make_face()
    extrude(amount=F1_DEPTH)

    # F2 (on face) → F3 (join)
    with BuildSketch(Plane.XY.offset(12.7)):
        with Locations((-21.59, -37.394977)):
            Circle(F2_R)
        with Locations((-37.394977, -21.59)):
            Circle(F2_R)
        with Locations((-43.18, 0)):
            Circle(F2_R)
        with Locations((-37.394977, 21.59)):
            Circle(F2_R)
        with Locations((-21.59, 37.394977)):
            Circle(F2_R)
        with BuildLine():
            ThreePointArc((0, 46.99), (-2.694077, 40.485923), (3.81, 43.18))
            ThreePointArc((3.81, 43.18), (2.694077, 45.874077), (0, 46.99))
        make_face()
        with Locations((21.59, 37.394977)):
            Circle(F2_R)
        with Locations((37.394977, 21.59)):
            Circle(F2_R)
        with Locations((43.18, 0)):
            Circle(F2_R)
        with Locations((37.394977, -21.59)):
            Circle(F2_R)
        with Locations((21.59, -37.394977)):
            Circle(F2_R)
        with Locations((0, -43.18)):
            Circle(F2_R)
    extrude(amount=F3_DEPTH)


solid = f1.part
